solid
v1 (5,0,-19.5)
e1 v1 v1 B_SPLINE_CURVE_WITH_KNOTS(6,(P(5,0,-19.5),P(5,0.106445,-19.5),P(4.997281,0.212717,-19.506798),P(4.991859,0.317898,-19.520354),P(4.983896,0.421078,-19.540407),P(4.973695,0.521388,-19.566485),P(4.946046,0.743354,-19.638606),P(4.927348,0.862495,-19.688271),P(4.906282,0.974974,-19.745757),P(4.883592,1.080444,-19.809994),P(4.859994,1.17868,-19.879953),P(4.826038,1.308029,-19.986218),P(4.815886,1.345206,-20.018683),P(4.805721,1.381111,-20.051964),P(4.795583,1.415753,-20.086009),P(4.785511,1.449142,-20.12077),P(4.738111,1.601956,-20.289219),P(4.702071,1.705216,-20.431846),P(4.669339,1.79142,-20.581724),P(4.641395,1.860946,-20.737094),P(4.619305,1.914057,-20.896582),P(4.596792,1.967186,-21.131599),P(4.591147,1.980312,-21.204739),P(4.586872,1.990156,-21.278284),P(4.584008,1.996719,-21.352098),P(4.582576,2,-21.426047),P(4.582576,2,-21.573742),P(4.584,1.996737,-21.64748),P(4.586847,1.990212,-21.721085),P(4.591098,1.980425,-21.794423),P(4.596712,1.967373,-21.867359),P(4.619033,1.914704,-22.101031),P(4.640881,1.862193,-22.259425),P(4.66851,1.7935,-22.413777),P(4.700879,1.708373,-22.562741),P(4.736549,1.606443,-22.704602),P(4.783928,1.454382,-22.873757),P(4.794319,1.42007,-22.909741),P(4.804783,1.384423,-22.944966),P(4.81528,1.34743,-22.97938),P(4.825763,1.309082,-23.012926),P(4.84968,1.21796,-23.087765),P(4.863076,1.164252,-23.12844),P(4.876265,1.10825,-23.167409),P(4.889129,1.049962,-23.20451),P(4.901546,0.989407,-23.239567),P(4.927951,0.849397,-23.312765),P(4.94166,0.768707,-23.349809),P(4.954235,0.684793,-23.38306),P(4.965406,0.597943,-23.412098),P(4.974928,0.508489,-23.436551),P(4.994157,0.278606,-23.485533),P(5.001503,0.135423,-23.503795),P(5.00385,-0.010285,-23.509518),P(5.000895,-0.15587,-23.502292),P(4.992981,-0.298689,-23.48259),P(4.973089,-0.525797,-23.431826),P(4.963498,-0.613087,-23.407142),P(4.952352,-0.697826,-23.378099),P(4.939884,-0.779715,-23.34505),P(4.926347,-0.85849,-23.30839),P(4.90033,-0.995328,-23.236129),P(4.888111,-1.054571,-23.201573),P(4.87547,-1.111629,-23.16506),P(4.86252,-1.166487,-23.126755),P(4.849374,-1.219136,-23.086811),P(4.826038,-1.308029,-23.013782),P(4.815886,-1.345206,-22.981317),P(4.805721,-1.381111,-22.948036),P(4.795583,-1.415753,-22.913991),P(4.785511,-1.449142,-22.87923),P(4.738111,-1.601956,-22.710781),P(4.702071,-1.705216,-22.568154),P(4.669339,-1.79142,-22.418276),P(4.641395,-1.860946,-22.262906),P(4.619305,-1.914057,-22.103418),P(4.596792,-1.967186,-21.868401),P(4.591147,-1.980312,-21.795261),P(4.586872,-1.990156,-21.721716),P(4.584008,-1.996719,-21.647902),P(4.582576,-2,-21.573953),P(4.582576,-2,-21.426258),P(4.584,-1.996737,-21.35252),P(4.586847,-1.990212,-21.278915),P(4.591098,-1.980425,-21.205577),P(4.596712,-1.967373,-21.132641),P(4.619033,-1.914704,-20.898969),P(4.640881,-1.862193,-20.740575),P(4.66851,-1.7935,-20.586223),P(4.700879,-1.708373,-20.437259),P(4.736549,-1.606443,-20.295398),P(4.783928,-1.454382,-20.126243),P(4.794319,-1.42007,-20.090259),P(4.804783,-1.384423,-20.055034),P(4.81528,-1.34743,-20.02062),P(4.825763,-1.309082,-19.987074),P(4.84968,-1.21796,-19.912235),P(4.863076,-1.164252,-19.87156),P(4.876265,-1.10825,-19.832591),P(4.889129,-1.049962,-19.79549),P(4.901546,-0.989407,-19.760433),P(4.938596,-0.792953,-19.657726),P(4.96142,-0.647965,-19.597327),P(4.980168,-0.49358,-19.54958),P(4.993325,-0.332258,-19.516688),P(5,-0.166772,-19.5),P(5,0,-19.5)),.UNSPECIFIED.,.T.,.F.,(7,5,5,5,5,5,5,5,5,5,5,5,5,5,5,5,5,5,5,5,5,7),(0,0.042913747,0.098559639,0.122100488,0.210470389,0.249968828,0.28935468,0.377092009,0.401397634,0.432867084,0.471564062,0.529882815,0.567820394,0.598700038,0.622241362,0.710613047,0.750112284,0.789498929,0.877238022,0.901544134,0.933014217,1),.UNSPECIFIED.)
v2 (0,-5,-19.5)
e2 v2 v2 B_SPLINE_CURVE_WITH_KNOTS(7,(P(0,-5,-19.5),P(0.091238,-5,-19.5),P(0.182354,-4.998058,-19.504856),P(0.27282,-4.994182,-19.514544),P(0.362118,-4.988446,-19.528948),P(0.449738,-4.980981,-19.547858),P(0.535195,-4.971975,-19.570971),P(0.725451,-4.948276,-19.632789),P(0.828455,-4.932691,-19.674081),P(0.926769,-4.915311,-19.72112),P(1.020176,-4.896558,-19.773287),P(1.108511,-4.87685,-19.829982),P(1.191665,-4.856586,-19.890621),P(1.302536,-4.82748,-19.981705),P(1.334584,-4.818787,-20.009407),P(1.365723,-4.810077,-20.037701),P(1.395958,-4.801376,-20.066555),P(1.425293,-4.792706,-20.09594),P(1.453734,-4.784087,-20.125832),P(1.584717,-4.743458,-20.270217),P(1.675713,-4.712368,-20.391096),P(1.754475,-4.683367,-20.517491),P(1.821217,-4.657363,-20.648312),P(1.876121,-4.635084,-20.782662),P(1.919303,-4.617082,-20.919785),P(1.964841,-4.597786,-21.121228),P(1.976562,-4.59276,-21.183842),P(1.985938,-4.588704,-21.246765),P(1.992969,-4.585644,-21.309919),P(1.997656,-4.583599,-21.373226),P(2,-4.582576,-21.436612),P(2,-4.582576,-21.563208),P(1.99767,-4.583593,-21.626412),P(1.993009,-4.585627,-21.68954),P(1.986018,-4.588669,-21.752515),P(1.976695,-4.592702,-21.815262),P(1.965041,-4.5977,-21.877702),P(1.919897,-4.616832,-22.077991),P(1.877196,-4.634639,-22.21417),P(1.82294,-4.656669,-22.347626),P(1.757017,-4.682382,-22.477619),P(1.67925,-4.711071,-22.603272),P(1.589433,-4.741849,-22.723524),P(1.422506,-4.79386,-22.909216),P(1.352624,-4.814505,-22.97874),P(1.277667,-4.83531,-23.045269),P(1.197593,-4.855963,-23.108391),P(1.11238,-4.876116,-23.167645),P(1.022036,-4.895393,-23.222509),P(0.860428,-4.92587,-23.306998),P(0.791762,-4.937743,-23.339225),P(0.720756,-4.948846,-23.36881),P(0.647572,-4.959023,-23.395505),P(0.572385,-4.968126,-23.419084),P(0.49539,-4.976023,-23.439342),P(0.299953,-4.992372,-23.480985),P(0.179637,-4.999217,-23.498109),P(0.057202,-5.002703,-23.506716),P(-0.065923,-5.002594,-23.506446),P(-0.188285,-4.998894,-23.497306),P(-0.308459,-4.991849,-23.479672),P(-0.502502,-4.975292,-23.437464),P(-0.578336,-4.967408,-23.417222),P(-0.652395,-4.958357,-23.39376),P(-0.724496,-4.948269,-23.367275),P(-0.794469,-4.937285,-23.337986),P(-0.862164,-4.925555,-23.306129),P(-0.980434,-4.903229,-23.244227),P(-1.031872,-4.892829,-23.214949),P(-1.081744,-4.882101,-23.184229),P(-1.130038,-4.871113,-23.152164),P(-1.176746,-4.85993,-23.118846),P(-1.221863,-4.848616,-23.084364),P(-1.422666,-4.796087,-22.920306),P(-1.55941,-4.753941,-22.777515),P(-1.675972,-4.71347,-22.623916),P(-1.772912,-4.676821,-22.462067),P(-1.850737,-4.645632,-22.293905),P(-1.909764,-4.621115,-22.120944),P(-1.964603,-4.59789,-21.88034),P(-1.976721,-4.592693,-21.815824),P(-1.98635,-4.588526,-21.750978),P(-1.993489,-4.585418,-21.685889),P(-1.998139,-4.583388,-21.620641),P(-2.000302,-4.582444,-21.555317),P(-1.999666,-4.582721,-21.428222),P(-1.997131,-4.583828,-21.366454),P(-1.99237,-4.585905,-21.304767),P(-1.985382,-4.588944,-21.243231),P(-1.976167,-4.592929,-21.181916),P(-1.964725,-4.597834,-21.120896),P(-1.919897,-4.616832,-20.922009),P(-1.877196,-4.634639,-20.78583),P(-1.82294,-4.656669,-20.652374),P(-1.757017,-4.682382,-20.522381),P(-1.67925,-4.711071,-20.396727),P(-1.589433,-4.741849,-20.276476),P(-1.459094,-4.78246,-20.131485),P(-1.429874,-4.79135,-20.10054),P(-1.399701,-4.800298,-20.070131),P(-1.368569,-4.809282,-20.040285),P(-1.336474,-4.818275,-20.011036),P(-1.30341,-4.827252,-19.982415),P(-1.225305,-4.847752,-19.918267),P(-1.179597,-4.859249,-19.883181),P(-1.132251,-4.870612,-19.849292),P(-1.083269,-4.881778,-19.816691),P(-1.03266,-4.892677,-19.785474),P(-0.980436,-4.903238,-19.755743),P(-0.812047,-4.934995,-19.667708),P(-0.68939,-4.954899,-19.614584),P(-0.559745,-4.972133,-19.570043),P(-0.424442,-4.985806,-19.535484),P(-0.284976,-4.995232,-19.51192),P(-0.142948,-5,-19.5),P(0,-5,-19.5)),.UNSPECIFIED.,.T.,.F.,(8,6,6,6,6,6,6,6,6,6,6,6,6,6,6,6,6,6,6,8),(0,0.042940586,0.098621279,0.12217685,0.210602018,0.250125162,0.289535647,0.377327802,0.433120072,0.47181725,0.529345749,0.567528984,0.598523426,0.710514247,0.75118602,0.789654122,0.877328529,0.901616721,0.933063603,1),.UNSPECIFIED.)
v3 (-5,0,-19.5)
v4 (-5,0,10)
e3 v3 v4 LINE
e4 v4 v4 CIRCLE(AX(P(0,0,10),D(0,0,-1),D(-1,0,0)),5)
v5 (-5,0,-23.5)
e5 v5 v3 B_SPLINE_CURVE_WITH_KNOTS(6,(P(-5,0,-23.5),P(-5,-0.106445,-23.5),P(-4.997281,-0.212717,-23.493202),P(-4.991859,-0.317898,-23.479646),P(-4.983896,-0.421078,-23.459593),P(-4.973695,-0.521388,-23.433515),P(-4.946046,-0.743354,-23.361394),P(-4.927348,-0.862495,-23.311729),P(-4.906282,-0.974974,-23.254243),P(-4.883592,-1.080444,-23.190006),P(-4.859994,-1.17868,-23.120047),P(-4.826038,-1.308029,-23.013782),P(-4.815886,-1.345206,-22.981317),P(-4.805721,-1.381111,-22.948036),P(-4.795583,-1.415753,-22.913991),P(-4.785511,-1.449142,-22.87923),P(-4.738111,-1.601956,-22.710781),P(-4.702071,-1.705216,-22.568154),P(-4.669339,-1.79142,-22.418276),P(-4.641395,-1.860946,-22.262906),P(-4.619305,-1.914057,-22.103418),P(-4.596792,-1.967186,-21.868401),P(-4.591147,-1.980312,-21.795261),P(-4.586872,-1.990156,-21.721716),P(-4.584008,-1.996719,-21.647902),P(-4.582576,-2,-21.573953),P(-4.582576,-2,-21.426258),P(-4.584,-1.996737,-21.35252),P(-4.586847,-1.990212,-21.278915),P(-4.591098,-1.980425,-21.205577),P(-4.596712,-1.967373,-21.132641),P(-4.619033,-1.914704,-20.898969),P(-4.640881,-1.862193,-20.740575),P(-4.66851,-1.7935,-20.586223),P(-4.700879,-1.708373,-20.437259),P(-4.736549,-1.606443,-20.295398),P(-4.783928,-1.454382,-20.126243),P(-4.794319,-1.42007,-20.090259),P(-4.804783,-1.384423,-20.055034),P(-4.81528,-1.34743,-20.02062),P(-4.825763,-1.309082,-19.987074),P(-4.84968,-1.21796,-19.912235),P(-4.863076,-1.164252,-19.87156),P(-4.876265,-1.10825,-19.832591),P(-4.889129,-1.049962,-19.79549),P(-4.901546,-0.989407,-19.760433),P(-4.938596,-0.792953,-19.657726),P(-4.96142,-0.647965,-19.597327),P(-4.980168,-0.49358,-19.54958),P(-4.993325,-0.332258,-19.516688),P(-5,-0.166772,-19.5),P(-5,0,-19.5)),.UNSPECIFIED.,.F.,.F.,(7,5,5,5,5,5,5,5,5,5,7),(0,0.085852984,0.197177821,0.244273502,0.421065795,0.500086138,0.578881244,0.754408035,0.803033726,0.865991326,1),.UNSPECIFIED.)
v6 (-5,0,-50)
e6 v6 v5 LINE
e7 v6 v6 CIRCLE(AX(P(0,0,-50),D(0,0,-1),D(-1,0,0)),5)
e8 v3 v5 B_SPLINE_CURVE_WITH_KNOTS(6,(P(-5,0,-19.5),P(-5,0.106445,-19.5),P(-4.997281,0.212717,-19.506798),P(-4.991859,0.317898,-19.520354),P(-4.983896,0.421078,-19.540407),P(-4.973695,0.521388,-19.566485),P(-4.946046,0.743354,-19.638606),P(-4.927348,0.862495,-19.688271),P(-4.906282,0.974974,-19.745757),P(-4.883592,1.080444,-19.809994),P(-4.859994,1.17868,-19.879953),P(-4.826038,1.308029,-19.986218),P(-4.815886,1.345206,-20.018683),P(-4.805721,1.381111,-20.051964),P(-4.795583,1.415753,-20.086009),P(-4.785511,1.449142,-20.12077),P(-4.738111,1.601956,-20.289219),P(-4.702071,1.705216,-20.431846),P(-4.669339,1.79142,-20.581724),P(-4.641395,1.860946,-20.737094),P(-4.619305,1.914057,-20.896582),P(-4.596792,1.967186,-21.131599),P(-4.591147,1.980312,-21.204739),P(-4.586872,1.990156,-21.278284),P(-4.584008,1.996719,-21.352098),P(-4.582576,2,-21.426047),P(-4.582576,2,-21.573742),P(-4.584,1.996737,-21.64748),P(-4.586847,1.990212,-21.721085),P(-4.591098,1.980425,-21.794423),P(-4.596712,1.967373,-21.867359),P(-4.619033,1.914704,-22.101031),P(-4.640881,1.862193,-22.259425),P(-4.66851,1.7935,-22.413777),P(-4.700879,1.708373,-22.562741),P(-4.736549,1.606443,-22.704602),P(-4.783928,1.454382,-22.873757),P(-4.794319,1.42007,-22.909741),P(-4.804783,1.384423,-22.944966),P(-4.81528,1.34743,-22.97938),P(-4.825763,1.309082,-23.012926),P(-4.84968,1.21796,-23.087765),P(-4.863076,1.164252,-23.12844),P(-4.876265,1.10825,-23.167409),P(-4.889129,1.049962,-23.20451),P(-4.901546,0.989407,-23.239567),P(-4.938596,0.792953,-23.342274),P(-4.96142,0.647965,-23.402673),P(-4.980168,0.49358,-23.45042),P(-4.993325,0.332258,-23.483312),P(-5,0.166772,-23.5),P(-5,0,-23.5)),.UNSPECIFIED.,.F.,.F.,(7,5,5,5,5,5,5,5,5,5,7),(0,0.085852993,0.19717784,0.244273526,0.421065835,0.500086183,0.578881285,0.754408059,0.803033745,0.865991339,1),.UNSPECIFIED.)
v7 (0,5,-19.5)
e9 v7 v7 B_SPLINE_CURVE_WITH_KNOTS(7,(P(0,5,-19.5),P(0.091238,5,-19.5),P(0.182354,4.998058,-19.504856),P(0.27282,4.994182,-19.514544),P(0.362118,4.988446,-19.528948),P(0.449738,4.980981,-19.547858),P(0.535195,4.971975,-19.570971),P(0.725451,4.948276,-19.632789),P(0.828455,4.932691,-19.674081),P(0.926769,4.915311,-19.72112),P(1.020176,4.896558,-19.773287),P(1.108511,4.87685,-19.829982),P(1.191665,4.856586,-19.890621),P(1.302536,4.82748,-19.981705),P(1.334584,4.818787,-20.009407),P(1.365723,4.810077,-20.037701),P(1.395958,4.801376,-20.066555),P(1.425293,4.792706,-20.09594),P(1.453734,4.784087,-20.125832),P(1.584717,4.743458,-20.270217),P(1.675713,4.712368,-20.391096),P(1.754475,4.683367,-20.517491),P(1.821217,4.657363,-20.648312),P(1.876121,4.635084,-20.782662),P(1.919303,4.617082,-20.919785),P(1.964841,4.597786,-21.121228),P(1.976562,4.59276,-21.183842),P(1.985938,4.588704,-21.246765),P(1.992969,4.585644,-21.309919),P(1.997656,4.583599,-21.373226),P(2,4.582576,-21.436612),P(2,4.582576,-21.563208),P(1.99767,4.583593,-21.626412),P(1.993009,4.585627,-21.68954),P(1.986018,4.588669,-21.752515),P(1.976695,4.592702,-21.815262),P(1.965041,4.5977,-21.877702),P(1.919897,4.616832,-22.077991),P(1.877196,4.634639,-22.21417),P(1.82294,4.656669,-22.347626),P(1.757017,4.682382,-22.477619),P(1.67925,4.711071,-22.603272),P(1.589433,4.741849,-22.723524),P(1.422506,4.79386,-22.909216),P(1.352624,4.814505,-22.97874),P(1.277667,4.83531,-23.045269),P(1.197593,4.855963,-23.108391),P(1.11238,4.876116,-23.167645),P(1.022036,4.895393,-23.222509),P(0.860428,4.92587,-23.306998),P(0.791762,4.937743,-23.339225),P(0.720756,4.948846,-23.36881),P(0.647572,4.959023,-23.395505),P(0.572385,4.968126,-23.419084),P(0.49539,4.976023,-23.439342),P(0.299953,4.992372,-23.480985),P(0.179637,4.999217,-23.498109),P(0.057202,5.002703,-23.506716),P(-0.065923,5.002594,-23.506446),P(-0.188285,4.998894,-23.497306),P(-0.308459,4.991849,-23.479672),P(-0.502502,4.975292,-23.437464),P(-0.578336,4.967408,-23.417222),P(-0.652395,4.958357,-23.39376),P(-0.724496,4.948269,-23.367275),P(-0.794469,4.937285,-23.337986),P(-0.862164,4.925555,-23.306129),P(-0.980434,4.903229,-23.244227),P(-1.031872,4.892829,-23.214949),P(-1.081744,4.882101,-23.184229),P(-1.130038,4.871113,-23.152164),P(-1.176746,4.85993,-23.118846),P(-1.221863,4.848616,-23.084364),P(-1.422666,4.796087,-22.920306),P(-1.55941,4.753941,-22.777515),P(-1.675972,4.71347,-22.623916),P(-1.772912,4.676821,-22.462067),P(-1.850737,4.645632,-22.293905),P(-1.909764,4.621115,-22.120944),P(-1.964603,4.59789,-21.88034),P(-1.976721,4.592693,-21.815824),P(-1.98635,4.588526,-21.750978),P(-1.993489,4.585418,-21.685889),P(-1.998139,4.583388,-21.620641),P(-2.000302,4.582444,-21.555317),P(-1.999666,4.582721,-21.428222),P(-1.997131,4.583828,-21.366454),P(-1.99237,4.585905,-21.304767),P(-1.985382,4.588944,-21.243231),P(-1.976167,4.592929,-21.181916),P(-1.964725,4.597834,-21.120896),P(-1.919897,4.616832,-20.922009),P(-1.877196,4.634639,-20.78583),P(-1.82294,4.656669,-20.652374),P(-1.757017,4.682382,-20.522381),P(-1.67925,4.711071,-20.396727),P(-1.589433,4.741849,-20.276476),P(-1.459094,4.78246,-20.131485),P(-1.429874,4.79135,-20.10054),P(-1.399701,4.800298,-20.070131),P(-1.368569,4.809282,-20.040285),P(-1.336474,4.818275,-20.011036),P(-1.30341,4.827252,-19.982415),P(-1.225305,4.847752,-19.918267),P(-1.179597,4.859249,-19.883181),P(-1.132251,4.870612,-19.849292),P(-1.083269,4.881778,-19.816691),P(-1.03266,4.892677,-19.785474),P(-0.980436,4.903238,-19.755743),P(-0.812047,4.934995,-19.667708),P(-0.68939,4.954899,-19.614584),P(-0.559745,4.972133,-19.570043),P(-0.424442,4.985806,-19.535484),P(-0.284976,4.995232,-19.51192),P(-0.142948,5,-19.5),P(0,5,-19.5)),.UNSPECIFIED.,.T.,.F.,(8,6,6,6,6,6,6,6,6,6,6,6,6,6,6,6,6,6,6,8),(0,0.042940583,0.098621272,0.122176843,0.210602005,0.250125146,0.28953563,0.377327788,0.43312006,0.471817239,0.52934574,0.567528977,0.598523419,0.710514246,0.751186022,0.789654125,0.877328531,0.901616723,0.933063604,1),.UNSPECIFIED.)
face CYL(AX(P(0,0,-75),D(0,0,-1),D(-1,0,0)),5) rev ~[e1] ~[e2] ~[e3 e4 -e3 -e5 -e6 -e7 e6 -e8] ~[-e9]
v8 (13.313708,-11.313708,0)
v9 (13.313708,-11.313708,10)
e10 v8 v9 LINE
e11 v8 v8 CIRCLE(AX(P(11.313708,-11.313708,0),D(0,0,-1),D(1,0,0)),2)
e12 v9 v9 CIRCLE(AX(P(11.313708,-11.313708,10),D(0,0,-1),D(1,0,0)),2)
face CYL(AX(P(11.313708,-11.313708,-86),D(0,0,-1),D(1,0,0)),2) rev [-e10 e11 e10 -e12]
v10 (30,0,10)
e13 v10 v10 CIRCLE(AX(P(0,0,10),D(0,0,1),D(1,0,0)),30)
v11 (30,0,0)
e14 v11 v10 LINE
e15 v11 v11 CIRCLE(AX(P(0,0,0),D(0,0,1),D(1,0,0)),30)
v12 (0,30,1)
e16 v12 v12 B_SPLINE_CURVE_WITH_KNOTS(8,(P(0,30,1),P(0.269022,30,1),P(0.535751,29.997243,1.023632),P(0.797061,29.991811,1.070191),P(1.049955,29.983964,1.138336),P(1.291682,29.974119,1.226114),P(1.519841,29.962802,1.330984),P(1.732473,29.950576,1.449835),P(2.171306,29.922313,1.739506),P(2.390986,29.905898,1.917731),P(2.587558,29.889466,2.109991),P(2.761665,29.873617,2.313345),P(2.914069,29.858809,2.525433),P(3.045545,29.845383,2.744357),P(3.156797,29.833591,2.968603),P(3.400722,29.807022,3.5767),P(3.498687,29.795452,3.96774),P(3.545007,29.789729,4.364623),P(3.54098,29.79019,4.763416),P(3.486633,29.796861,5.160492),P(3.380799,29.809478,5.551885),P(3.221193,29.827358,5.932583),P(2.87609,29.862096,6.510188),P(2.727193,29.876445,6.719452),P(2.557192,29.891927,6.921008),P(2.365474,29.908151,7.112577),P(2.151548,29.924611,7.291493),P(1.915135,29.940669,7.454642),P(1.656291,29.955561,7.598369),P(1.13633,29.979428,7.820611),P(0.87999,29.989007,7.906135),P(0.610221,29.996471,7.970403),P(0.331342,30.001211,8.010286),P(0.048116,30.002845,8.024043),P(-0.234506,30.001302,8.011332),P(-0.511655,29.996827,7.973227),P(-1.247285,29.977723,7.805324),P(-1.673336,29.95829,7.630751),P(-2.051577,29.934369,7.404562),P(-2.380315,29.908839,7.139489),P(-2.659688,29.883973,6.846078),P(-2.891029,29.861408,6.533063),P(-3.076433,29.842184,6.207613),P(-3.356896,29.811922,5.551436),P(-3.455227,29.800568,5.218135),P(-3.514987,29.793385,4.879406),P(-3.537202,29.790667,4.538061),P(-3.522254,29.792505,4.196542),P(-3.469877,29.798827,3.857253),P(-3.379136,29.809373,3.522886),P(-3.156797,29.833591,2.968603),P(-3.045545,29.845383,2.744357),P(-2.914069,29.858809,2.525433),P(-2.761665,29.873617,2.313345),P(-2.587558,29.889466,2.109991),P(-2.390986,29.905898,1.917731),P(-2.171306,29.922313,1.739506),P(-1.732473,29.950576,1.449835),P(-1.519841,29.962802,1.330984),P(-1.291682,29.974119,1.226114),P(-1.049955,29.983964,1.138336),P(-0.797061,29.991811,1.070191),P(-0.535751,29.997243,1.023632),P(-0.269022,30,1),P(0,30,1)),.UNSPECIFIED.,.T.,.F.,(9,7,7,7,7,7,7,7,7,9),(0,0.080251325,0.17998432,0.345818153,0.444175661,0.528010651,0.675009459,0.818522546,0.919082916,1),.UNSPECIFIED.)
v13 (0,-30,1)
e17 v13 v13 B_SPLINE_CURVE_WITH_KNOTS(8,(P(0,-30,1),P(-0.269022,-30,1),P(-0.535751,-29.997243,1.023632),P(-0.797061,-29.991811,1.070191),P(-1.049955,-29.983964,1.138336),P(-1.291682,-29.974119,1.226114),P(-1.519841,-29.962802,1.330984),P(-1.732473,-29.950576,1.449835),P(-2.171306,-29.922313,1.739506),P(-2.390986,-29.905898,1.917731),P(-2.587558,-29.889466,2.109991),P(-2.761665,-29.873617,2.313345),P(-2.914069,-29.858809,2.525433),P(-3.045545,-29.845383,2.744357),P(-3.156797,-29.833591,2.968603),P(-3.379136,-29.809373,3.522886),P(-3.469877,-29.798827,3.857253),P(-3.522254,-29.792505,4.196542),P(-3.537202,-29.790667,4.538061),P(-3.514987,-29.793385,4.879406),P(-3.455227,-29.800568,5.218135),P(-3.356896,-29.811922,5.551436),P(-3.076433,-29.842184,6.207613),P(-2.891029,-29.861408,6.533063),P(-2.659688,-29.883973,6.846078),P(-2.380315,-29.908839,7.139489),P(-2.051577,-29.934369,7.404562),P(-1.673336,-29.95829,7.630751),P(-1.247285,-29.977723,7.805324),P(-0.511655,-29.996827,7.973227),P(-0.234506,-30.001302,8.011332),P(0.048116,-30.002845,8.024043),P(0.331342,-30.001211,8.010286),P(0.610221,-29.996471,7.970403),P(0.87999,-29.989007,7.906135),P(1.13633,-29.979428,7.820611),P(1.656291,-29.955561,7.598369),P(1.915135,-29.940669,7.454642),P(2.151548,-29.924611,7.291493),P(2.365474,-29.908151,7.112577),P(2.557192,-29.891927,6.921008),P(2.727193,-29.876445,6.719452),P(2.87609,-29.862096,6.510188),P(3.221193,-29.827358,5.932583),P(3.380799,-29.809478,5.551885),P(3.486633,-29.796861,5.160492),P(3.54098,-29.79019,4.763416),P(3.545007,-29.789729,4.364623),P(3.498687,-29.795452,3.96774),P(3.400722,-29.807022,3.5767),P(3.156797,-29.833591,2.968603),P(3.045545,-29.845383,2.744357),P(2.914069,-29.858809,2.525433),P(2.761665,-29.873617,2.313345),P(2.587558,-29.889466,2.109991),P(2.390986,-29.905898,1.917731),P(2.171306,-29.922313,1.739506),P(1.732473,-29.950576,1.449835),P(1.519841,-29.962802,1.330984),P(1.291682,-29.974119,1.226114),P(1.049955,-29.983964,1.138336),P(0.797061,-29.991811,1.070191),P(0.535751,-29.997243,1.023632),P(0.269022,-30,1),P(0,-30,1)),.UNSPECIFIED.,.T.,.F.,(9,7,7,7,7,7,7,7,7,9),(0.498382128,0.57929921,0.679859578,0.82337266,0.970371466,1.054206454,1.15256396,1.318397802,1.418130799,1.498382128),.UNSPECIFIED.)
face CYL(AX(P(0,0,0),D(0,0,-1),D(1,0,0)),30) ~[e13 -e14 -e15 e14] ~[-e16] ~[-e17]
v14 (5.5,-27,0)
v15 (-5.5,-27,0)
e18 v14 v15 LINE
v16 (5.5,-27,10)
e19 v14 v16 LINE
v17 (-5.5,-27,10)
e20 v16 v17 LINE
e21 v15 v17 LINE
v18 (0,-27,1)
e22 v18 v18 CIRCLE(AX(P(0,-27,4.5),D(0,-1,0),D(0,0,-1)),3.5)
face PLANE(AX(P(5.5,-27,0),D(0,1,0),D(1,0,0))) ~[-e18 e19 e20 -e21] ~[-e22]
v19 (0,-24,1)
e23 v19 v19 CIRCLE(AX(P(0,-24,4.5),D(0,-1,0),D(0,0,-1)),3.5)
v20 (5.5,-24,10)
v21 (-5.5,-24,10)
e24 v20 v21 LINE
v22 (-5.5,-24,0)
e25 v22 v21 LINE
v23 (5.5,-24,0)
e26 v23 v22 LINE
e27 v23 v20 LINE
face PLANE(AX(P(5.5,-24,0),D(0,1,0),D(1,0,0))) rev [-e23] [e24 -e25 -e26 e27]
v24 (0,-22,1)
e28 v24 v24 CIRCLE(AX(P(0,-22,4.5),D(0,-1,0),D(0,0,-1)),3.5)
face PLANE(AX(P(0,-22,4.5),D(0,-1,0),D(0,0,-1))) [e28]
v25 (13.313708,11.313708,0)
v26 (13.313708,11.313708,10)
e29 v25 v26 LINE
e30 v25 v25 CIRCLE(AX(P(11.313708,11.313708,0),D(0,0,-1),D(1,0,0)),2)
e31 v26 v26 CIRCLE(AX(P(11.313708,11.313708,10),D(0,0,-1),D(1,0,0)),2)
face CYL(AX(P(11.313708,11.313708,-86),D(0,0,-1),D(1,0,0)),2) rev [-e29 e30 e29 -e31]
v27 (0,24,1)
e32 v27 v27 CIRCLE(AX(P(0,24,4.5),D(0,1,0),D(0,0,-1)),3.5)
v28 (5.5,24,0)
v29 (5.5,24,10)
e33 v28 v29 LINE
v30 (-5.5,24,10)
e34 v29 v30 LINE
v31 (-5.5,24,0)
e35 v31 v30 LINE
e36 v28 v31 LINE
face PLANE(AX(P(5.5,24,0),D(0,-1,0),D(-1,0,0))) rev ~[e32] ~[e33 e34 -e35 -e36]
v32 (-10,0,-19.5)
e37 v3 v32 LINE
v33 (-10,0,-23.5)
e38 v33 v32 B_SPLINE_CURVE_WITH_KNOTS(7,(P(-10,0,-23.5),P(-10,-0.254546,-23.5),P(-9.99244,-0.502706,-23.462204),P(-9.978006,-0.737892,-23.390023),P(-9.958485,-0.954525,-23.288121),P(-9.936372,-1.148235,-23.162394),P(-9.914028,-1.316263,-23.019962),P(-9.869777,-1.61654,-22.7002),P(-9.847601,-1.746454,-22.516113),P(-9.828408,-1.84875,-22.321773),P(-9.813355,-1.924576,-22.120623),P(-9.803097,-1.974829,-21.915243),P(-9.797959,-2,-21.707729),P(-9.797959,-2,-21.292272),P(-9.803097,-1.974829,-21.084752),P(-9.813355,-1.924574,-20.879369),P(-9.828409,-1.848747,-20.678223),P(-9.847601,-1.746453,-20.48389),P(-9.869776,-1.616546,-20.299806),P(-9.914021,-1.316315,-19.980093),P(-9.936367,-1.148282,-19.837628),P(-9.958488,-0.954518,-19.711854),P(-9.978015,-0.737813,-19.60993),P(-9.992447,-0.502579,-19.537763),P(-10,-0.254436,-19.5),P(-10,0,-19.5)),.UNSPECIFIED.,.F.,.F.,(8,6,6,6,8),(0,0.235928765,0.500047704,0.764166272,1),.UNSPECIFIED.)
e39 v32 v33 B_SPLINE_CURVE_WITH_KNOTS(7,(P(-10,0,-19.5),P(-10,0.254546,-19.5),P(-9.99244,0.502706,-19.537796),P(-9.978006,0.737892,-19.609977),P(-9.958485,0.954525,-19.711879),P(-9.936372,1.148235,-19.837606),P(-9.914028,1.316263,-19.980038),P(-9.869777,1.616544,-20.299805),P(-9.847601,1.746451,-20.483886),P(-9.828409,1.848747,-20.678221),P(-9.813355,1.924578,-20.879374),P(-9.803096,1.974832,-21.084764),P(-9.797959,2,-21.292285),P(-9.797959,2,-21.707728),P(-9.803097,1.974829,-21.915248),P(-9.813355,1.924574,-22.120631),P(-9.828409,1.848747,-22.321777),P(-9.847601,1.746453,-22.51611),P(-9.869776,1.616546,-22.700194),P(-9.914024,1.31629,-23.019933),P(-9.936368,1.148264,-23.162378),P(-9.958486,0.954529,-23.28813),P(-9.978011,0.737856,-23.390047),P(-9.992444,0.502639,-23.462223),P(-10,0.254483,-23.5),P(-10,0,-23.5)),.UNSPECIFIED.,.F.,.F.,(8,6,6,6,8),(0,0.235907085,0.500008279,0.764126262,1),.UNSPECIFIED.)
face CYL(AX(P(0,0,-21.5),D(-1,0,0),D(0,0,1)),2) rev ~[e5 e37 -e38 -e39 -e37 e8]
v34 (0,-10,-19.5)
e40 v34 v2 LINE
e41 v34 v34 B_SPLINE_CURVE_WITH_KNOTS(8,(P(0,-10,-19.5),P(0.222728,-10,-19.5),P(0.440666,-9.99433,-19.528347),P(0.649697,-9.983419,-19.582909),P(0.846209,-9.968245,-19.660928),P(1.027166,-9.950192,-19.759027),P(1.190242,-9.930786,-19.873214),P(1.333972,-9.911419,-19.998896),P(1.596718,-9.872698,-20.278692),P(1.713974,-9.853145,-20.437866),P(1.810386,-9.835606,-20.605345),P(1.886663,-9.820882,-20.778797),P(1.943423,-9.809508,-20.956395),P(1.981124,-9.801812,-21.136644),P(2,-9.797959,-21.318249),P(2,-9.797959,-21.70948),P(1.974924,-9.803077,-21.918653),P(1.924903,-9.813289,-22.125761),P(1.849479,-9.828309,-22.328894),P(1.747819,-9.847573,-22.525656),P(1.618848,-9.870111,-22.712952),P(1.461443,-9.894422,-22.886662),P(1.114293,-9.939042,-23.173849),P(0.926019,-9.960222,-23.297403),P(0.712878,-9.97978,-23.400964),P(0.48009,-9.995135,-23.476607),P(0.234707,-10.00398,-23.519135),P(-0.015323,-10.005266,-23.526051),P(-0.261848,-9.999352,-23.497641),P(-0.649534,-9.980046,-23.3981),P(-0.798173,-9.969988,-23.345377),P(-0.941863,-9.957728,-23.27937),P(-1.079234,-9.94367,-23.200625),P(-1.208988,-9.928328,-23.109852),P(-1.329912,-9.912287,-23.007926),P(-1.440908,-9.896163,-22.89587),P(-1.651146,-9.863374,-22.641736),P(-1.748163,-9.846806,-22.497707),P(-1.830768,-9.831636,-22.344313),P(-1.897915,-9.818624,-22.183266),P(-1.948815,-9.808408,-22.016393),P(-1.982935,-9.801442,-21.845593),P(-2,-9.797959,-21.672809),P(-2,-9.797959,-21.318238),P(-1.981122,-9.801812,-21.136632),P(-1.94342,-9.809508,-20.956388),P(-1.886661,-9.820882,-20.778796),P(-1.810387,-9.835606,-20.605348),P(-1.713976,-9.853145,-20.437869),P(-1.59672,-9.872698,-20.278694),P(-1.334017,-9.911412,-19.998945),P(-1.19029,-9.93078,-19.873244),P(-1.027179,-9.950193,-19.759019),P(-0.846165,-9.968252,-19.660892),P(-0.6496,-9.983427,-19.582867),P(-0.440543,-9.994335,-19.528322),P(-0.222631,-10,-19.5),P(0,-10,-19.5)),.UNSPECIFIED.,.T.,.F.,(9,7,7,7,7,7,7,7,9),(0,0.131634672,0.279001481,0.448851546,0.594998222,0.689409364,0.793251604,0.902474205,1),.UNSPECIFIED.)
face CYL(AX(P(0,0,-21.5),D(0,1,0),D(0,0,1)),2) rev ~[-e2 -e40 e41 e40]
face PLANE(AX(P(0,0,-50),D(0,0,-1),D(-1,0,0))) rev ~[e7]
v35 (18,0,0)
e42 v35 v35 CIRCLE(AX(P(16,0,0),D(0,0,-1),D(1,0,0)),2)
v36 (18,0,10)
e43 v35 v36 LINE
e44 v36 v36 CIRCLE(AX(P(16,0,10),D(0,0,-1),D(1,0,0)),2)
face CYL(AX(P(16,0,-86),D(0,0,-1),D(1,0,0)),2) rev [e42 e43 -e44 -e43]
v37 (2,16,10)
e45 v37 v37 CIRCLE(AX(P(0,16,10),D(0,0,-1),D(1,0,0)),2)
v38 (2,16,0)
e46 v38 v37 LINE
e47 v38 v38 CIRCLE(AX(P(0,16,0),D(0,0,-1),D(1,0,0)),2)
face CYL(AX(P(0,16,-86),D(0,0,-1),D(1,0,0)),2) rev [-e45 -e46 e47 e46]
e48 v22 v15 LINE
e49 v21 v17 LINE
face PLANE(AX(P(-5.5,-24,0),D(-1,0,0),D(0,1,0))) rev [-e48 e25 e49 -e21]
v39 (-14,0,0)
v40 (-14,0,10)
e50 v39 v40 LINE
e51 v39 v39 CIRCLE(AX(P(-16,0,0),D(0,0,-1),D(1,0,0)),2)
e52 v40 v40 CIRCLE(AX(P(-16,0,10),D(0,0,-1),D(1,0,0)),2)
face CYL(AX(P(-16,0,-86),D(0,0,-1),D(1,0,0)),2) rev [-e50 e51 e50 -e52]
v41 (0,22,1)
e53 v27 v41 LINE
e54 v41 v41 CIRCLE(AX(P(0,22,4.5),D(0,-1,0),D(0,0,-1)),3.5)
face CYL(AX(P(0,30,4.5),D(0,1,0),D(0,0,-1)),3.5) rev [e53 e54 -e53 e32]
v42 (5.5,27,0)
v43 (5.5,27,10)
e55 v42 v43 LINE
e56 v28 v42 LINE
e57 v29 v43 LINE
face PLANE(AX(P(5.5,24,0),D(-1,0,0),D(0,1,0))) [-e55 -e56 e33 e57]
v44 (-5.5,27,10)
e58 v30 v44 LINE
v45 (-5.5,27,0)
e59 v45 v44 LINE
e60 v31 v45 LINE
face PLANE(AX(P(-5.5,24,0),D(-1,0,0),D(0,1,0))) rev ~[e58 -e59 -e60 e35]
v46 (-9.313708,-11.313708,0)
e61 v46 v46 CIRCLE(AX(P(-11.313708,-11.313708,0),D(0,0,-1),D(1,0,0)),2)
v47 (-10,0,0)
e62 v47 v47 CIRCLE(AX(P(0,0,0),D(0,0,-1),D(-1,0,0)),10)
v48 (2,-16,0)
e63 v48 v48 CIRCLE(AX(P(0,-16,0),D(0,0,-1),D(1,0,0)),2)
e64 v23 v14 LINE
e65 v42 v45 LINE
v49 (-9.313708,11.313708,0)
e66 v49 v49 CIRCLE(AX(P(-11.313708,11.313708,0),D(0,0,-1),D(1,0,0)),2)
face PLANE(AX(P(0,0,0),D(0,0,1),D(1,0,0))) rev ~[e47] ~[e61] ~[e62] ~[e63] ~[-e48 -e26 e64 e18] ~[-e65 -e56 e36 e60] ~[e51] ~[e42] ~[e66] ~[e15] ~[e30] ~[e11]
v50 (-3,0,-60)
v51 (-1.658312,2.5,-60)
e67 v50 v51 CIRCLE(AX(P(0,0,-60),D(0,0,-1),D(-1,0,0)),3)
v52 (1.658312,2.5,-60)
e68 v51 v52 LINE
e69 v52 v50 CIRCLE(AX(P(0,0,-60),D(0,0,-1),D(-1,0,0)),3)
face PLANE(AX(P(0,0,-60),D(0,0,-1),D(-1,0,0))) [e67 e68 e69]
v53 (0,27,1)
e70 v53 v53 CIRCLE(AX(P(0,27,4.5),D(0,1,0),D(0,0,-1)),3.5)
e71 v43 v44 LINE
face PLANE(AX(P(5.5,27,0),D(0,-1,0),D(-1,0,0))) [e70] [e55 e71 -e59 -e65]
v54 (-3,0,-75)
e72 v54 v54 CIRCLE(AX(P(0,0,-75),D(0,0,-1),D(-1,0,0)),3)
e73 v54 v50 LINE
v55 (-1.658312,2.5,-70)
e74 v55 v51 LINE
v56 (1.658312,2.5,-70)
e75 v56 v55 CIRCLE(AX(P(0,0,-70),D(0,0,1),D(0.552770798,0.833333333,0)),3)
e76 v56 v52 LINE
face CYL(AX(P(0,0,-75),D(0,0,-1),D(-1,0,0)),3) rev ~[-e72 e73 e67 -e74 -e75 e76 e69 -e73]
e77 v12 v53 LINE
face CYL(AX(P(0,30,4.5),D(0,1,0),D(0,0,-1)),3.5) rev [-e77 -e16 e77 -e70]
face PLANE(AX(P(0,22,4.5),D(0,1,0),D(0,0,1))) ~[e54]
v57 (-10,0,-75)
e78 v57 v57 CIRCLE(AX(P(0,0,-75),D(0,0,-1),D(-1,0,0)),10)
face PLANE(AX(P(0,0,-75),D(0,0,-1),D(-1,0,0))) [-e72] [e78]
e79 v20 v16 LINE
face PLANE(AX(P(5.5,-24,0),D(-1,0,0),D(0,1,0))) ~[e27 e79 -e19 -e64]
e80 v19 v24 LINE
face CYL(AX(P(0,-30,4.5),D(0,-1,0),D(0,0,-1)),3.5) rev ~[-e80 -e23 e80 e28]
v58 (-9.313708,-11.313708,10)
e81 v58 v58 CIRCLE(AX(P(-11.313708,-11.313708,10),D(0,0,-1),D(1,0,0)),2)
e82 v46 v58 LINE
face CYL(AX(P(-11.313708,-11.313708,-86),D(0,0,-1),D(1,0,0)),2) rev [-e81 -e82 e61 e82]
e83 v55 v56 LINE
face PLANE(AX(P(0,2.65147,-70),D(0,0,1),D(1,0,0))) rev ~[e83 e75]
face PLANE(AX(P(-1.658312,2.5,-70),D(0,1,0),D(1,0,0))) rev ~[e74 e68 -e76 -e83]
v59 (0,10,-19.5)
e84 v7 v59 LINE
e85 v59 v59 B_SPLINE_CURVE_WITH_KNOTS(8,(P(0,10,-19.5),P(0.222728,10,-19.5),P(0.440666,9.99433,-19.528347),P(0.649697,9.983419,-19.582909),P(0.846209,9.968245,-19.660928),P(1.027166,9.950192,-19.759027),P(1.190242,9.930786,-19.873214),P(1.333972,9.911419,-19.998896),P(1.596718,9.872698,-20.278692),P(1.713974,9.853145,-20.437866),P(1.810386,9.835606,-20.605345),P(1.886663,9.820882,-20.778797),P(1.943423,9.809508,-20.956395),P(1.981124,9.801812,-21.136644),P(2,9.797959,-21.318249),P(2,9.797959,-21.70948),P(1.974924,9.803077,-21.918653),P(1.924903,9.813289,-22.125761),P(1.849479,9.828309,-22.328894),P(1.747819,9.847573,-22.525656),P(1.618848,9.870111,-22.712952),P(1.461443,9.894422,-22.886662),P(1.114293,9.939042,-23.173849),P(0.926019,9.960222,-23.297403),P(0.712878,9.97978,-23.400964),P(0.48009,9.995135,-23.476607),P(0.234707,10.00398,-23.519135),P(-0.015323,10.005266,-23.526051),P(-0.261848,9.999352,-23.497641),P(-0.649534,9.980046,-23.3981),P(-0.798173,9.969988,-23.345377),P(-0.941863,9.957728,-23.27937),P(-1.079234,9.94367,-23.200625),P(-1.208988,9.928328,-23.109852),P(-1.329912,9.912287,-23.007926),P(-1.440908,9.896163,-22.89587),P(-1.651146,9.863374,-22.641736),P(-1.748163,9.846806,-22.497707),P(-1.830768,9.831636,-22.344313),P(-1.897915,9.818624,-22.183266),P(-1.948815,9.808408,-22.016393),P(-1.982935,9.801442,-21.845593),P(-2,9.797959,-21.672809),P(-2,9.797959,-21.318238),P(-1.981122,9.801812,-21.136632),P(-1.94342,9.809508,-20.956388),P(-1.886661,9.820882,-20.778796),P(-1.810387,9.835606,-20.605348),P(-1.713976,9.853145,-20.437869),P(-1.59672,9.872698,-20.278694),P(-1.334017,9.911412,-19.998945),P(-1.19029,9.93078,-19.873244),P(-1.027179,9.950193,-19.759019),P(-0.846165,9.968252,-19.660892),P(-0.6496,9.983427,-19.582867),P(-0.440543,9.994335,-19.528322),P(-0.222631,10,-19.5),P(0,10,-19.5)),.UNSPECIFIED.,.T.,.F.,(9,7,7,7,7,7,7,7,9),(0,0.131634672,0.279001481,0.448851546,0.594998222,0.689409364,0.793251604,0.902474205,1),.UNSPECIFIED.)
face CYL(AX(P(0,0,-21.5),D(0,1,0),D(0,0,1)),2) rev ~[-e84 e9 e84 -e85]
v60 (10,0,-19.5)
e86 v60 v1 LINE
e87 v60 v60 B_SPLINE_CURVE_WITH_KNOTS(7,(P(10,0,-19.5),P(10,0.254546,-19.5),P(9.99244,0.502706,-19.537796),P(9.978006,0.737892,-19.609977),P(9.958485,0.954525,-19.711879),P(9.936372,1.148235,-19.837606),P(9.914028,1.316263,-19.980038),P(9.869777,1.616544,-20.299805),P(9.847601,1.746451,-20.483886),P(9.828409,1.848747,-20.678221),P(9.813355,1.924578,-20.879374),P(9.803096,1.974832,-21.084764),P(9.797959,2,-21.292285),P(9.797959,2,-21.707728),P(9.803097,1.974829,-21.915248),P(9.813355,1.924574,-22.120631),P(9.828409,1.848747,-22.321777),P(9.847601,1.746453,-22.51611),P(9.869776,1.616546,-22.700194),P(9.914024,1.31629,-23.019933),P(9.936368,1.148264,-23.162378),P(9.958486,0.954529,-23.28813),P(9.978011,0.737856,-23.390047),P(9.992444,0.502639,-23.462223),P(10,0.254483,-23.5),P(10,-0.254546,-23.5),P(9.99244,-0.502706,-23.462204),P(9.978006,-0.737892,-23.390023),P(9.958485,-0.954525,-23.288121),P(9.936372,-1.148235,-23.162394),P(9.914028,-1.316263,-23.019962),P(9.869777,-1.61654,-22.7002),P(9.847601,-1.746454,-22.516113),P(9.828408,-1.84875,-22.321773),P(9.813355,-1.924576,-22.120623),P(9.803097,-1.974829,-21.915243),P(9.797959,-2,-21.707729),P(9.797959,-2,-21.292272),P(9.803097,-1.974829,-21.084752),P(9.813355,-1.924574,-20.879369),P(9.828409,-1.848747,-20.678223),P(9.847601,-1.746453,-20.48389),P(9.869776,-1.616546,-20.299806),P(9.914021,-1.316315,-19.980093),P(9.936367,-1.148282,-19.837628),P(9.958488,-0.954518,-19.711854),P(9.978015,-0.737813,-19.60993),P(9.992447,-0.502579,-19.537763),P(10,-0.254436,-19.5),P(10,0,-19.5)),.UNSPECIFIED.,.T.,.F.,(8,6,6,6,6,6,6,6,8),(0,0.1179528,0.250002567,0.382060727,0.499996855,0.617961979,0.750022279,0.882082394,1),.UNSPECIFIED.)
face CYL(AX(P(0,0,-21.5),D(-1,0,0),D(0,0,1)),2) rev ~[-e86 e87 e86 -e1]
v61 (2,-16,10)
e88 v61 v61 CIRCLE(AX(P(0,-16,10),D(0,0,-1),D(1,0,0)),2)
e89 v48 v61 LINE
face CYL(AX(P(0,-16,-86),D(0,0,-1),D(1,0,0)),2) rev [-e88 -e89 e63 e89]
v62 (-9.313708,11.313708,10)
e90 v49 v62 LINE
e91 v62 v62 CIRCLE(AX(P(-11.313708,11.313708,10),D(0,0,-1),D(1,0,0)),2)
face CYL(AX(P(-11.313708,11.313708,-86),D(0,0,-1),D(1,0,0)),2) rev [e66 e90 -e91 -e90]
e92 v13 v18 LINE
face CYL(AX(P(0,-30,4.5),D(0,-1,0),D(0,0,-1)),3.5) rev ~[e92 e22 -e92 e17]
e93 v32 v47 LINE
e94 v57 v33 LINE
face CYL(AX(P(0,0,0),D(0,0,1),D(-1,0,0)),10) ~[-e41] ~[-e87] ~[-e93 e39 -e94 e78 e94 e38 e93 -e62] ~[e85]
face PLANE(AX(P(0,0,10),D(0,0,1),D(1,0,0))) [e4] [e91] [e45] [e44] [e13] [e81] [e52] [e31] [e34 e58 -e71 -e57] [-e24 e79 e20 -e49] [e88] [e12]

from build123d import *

# Parameters (mm, degrees)
SKETCH1_R               = 30
BOSS_EXTRUDE1_DEPTH     = 10
SKETCH2_R               = 10
BOSS_EXTRUDE2_DEPTH     = 75
SKETCH2_2_R             = 10
BOSS_EXTRUDE3_DEPTH     = 20
SKETCH5_R               = 5
CUT_EXTRUDE1_DEPTH      = 96
SKETCH6_R               = 2
CUT_EXTRUDE2_DEPTH      = 87.168439698
CIRPATTERN1_COUNT       = 2
CIRPATTERN1_ANGLE       = 90
CUT_EXTRUDE3_DEPTH      = 96.000000089
CUT_EXTRUDE3_DEPTH_BACK = 96.000000089
SKETCH7_R               = 2
SKETCH9_W               = 11
SKETCH9_H               = 3
CUT_EXTRUDE5_DEPTH      = 10
SKETCH10_R              = 3.5
CUT_EXTRUDE6_DEPTH      = 8
SKETCH17_R              = 7.355644599
BOSS_EXTRUDE4_DEPTH     = 25
SKETCH18_R              = 3
CUT_EXTRUDE7_DEPTH      = 15
BOSS_EXTRUDE5_START     = 10
BOSS_EXTRUDE5_DEPTH     = 10


with BuildPart() as part:
    # Sketch1 → Boss-Extrude1 (new body)
    with BuildSketch(Plane.XY):
        Circle(SKETCH1_R)
    extrude(amount=BOSS_EXTRUDE1_DEPTH)

    # Sketch2 → Boss-Extrude2 (add)
    with BuildSketch(Plane(origin=(0, 0, 0), x_dir=(-1, 0, 0), z_dir=(0, 0, -1))):
        Circle(SKETCH2_R)
    extrude(amount=BOSS_EXTRUDE2_DEPTH)

    # Sketch2<2> → Boss-Extrude3 (add)
    with BuildSketch(Plane(origin=(0, 0, 0), x_dir=(-1, 0, 0), z_dir=(0, 0, -1))):
        Circle(SKETCH2_2_R)
    extrude(amount=BOSS_EXTRUDE3_DEPTH)

    # Sketch5 → Cut-Extrude1 (cut, through all)
    with BuildSketch(Plane(origin=(0, 0, -75), x_dir=(-1, 0, 0), z_dir=(0, 0, -1))):
        Circle(SKETCH5_R)
    extrude(amount=-CUT_EXTRUDE1_DEPTH, mode=Mode.SUBTRACT)

    # Sketch6 → Cut-Extrude2 (cut, symmetric)
    with BuildSketch(Plane(origin=(0, 0, 0), x_dir=(1, 0, 0), z_dir=(0, 1, 0))):
        with Locations((0, 21.5)):
            Circle(SKETCH6_R)
    cut_extrude2 = extrude(amount=CUT_EXTRUDE2_DEPTH, both=True, mode=Mode.SUBTRACT)

    # CirPattern1: Cut-Extrude2 ×2 about axis
    cirpattern1_axis = Axis((0, 0, -75), (0, 0, 1))
    for i in range(1, CIRPATTERN1_COUNT):
        add(cut_extrude2.rotate(cirpattern1_axis, i * CIRPATTERN1_ANGLE / (CIRPATTERN1_COUNT - 1)), mode=Mode.SUBTRACT)

    # Sketch7 → Cut-Extrude3 (cut, two sides: drawn at the far end of the back side and taken through both)
    with BuildSketch(Plane.XY.offset(10).offset(-CUT_EXTRUDE3_DEPTH_BACK)):
        with Locations((0, 16)):
            Circle(SKETCH7_R)
        with Locations((11.313708499, 11.313708499)):
            Circle(SKETCH7_R)
        with Locations((16, 0)):
            Circle(SKETCH7_R)
        with Locations((11.313708499, -11.313708499)):
            Circle(SKETCH7_R)
        with Locations((0, -16)):
            Circle(SKETCH7_R)
        with Locations((-11.313708499, -11.313708499)):
            Circle(SKETCH7_R)
        with Locations((-16, 0)):
            Circle(SKETCH7_R)
        with Locations((-11.313708499, 11.313708499)):
            Circle(SKETCH7_R)
    extrude(amount=CUT_EXTRUDE3_DEPTH + CUT_EXTRUDE3_DEPTH_BACK, mode=Mode.SUBTRACT)

    # Sketch9 → Cut-Extrude5 (cut)
    with BuildSketch(Plane(origin=(0, 0, 0), x_dir=(-1, 0, 0), z_dir=(0, 0, -1))):
        with Locations((0, 25.5)):
            Rectangle(SKETCH9_W, SKETCH9_H)
    cut_extrude5 = extrude(amount=-CUT_EXTRUDE5_DEPTH, mode=Mode.SUBTRACT)

    # Mirror1: Cut-Extrude5 across plane
    add(cut_extrude5.mirror(Plane.ZX), mode=Mode.SUBTRACT)

    # Sketch10 → Cut-Extrude6 (cut)
    with BuildSketch(Plane(origin=(0, -30, 0), x_dir=(-1, 0, 0), z_dir=(0, -1, 0))):
        with Locations((0, -4.5)):
            Circle(SKETCH10_R)
    cut_extrude6 = extrude(amount=-CUT_EXTRUDE6_DEPTH, mode=Mode.SUBTRACT)

    # Mirror2: Cut-Extrude6 across plane
    add(cut_extrude6.mirror(Plane.ZX), mode=Mode.SUBTRACT)

    # Sketch17 → Boss-Extrude4 (add)
    with BuildSketch(Plane(origin=(0, 0, -50), x_dir=(-1, 0, 0), z_dir=(0, 0, -1))):
        Circle(SKETCH17_R)
    extrude(amount=BOSS_EXTRUDE4_DEPTH)

    # Sketch18 → Cut-Extrude7 (cut)
    with BuildSketch(Plane(origin=(0, 0, -75), x_dir=(-1, 0, 0), z_dir=(0, 0, -1))):
        Circle(SKETCH18_R)
    extrude(amount=-CUT_EXTRUDE7_DEPTH, mode=Mode.SUBTRACT)

    # Sketch19 → Boss-Extrude5 (add)
    with BuildSketch(Plane(origin=(0, 0, -60), x_dir=(-1, 0, 0), z_dir=(0, 0, -1)).offset(BOSS_EXTRUDE5_START)):
        with BuildLine():
            Line((1.658312395, 2.5), (-1.658312395, 2.5))
            ThreePointArc((-1.658312395, 2.5), (0, 3), (1.658312395, 2.5))
        make_face()
    extrude(amount=-BOSS_EXTRUDE5_DEPTH)


solid = part.part
